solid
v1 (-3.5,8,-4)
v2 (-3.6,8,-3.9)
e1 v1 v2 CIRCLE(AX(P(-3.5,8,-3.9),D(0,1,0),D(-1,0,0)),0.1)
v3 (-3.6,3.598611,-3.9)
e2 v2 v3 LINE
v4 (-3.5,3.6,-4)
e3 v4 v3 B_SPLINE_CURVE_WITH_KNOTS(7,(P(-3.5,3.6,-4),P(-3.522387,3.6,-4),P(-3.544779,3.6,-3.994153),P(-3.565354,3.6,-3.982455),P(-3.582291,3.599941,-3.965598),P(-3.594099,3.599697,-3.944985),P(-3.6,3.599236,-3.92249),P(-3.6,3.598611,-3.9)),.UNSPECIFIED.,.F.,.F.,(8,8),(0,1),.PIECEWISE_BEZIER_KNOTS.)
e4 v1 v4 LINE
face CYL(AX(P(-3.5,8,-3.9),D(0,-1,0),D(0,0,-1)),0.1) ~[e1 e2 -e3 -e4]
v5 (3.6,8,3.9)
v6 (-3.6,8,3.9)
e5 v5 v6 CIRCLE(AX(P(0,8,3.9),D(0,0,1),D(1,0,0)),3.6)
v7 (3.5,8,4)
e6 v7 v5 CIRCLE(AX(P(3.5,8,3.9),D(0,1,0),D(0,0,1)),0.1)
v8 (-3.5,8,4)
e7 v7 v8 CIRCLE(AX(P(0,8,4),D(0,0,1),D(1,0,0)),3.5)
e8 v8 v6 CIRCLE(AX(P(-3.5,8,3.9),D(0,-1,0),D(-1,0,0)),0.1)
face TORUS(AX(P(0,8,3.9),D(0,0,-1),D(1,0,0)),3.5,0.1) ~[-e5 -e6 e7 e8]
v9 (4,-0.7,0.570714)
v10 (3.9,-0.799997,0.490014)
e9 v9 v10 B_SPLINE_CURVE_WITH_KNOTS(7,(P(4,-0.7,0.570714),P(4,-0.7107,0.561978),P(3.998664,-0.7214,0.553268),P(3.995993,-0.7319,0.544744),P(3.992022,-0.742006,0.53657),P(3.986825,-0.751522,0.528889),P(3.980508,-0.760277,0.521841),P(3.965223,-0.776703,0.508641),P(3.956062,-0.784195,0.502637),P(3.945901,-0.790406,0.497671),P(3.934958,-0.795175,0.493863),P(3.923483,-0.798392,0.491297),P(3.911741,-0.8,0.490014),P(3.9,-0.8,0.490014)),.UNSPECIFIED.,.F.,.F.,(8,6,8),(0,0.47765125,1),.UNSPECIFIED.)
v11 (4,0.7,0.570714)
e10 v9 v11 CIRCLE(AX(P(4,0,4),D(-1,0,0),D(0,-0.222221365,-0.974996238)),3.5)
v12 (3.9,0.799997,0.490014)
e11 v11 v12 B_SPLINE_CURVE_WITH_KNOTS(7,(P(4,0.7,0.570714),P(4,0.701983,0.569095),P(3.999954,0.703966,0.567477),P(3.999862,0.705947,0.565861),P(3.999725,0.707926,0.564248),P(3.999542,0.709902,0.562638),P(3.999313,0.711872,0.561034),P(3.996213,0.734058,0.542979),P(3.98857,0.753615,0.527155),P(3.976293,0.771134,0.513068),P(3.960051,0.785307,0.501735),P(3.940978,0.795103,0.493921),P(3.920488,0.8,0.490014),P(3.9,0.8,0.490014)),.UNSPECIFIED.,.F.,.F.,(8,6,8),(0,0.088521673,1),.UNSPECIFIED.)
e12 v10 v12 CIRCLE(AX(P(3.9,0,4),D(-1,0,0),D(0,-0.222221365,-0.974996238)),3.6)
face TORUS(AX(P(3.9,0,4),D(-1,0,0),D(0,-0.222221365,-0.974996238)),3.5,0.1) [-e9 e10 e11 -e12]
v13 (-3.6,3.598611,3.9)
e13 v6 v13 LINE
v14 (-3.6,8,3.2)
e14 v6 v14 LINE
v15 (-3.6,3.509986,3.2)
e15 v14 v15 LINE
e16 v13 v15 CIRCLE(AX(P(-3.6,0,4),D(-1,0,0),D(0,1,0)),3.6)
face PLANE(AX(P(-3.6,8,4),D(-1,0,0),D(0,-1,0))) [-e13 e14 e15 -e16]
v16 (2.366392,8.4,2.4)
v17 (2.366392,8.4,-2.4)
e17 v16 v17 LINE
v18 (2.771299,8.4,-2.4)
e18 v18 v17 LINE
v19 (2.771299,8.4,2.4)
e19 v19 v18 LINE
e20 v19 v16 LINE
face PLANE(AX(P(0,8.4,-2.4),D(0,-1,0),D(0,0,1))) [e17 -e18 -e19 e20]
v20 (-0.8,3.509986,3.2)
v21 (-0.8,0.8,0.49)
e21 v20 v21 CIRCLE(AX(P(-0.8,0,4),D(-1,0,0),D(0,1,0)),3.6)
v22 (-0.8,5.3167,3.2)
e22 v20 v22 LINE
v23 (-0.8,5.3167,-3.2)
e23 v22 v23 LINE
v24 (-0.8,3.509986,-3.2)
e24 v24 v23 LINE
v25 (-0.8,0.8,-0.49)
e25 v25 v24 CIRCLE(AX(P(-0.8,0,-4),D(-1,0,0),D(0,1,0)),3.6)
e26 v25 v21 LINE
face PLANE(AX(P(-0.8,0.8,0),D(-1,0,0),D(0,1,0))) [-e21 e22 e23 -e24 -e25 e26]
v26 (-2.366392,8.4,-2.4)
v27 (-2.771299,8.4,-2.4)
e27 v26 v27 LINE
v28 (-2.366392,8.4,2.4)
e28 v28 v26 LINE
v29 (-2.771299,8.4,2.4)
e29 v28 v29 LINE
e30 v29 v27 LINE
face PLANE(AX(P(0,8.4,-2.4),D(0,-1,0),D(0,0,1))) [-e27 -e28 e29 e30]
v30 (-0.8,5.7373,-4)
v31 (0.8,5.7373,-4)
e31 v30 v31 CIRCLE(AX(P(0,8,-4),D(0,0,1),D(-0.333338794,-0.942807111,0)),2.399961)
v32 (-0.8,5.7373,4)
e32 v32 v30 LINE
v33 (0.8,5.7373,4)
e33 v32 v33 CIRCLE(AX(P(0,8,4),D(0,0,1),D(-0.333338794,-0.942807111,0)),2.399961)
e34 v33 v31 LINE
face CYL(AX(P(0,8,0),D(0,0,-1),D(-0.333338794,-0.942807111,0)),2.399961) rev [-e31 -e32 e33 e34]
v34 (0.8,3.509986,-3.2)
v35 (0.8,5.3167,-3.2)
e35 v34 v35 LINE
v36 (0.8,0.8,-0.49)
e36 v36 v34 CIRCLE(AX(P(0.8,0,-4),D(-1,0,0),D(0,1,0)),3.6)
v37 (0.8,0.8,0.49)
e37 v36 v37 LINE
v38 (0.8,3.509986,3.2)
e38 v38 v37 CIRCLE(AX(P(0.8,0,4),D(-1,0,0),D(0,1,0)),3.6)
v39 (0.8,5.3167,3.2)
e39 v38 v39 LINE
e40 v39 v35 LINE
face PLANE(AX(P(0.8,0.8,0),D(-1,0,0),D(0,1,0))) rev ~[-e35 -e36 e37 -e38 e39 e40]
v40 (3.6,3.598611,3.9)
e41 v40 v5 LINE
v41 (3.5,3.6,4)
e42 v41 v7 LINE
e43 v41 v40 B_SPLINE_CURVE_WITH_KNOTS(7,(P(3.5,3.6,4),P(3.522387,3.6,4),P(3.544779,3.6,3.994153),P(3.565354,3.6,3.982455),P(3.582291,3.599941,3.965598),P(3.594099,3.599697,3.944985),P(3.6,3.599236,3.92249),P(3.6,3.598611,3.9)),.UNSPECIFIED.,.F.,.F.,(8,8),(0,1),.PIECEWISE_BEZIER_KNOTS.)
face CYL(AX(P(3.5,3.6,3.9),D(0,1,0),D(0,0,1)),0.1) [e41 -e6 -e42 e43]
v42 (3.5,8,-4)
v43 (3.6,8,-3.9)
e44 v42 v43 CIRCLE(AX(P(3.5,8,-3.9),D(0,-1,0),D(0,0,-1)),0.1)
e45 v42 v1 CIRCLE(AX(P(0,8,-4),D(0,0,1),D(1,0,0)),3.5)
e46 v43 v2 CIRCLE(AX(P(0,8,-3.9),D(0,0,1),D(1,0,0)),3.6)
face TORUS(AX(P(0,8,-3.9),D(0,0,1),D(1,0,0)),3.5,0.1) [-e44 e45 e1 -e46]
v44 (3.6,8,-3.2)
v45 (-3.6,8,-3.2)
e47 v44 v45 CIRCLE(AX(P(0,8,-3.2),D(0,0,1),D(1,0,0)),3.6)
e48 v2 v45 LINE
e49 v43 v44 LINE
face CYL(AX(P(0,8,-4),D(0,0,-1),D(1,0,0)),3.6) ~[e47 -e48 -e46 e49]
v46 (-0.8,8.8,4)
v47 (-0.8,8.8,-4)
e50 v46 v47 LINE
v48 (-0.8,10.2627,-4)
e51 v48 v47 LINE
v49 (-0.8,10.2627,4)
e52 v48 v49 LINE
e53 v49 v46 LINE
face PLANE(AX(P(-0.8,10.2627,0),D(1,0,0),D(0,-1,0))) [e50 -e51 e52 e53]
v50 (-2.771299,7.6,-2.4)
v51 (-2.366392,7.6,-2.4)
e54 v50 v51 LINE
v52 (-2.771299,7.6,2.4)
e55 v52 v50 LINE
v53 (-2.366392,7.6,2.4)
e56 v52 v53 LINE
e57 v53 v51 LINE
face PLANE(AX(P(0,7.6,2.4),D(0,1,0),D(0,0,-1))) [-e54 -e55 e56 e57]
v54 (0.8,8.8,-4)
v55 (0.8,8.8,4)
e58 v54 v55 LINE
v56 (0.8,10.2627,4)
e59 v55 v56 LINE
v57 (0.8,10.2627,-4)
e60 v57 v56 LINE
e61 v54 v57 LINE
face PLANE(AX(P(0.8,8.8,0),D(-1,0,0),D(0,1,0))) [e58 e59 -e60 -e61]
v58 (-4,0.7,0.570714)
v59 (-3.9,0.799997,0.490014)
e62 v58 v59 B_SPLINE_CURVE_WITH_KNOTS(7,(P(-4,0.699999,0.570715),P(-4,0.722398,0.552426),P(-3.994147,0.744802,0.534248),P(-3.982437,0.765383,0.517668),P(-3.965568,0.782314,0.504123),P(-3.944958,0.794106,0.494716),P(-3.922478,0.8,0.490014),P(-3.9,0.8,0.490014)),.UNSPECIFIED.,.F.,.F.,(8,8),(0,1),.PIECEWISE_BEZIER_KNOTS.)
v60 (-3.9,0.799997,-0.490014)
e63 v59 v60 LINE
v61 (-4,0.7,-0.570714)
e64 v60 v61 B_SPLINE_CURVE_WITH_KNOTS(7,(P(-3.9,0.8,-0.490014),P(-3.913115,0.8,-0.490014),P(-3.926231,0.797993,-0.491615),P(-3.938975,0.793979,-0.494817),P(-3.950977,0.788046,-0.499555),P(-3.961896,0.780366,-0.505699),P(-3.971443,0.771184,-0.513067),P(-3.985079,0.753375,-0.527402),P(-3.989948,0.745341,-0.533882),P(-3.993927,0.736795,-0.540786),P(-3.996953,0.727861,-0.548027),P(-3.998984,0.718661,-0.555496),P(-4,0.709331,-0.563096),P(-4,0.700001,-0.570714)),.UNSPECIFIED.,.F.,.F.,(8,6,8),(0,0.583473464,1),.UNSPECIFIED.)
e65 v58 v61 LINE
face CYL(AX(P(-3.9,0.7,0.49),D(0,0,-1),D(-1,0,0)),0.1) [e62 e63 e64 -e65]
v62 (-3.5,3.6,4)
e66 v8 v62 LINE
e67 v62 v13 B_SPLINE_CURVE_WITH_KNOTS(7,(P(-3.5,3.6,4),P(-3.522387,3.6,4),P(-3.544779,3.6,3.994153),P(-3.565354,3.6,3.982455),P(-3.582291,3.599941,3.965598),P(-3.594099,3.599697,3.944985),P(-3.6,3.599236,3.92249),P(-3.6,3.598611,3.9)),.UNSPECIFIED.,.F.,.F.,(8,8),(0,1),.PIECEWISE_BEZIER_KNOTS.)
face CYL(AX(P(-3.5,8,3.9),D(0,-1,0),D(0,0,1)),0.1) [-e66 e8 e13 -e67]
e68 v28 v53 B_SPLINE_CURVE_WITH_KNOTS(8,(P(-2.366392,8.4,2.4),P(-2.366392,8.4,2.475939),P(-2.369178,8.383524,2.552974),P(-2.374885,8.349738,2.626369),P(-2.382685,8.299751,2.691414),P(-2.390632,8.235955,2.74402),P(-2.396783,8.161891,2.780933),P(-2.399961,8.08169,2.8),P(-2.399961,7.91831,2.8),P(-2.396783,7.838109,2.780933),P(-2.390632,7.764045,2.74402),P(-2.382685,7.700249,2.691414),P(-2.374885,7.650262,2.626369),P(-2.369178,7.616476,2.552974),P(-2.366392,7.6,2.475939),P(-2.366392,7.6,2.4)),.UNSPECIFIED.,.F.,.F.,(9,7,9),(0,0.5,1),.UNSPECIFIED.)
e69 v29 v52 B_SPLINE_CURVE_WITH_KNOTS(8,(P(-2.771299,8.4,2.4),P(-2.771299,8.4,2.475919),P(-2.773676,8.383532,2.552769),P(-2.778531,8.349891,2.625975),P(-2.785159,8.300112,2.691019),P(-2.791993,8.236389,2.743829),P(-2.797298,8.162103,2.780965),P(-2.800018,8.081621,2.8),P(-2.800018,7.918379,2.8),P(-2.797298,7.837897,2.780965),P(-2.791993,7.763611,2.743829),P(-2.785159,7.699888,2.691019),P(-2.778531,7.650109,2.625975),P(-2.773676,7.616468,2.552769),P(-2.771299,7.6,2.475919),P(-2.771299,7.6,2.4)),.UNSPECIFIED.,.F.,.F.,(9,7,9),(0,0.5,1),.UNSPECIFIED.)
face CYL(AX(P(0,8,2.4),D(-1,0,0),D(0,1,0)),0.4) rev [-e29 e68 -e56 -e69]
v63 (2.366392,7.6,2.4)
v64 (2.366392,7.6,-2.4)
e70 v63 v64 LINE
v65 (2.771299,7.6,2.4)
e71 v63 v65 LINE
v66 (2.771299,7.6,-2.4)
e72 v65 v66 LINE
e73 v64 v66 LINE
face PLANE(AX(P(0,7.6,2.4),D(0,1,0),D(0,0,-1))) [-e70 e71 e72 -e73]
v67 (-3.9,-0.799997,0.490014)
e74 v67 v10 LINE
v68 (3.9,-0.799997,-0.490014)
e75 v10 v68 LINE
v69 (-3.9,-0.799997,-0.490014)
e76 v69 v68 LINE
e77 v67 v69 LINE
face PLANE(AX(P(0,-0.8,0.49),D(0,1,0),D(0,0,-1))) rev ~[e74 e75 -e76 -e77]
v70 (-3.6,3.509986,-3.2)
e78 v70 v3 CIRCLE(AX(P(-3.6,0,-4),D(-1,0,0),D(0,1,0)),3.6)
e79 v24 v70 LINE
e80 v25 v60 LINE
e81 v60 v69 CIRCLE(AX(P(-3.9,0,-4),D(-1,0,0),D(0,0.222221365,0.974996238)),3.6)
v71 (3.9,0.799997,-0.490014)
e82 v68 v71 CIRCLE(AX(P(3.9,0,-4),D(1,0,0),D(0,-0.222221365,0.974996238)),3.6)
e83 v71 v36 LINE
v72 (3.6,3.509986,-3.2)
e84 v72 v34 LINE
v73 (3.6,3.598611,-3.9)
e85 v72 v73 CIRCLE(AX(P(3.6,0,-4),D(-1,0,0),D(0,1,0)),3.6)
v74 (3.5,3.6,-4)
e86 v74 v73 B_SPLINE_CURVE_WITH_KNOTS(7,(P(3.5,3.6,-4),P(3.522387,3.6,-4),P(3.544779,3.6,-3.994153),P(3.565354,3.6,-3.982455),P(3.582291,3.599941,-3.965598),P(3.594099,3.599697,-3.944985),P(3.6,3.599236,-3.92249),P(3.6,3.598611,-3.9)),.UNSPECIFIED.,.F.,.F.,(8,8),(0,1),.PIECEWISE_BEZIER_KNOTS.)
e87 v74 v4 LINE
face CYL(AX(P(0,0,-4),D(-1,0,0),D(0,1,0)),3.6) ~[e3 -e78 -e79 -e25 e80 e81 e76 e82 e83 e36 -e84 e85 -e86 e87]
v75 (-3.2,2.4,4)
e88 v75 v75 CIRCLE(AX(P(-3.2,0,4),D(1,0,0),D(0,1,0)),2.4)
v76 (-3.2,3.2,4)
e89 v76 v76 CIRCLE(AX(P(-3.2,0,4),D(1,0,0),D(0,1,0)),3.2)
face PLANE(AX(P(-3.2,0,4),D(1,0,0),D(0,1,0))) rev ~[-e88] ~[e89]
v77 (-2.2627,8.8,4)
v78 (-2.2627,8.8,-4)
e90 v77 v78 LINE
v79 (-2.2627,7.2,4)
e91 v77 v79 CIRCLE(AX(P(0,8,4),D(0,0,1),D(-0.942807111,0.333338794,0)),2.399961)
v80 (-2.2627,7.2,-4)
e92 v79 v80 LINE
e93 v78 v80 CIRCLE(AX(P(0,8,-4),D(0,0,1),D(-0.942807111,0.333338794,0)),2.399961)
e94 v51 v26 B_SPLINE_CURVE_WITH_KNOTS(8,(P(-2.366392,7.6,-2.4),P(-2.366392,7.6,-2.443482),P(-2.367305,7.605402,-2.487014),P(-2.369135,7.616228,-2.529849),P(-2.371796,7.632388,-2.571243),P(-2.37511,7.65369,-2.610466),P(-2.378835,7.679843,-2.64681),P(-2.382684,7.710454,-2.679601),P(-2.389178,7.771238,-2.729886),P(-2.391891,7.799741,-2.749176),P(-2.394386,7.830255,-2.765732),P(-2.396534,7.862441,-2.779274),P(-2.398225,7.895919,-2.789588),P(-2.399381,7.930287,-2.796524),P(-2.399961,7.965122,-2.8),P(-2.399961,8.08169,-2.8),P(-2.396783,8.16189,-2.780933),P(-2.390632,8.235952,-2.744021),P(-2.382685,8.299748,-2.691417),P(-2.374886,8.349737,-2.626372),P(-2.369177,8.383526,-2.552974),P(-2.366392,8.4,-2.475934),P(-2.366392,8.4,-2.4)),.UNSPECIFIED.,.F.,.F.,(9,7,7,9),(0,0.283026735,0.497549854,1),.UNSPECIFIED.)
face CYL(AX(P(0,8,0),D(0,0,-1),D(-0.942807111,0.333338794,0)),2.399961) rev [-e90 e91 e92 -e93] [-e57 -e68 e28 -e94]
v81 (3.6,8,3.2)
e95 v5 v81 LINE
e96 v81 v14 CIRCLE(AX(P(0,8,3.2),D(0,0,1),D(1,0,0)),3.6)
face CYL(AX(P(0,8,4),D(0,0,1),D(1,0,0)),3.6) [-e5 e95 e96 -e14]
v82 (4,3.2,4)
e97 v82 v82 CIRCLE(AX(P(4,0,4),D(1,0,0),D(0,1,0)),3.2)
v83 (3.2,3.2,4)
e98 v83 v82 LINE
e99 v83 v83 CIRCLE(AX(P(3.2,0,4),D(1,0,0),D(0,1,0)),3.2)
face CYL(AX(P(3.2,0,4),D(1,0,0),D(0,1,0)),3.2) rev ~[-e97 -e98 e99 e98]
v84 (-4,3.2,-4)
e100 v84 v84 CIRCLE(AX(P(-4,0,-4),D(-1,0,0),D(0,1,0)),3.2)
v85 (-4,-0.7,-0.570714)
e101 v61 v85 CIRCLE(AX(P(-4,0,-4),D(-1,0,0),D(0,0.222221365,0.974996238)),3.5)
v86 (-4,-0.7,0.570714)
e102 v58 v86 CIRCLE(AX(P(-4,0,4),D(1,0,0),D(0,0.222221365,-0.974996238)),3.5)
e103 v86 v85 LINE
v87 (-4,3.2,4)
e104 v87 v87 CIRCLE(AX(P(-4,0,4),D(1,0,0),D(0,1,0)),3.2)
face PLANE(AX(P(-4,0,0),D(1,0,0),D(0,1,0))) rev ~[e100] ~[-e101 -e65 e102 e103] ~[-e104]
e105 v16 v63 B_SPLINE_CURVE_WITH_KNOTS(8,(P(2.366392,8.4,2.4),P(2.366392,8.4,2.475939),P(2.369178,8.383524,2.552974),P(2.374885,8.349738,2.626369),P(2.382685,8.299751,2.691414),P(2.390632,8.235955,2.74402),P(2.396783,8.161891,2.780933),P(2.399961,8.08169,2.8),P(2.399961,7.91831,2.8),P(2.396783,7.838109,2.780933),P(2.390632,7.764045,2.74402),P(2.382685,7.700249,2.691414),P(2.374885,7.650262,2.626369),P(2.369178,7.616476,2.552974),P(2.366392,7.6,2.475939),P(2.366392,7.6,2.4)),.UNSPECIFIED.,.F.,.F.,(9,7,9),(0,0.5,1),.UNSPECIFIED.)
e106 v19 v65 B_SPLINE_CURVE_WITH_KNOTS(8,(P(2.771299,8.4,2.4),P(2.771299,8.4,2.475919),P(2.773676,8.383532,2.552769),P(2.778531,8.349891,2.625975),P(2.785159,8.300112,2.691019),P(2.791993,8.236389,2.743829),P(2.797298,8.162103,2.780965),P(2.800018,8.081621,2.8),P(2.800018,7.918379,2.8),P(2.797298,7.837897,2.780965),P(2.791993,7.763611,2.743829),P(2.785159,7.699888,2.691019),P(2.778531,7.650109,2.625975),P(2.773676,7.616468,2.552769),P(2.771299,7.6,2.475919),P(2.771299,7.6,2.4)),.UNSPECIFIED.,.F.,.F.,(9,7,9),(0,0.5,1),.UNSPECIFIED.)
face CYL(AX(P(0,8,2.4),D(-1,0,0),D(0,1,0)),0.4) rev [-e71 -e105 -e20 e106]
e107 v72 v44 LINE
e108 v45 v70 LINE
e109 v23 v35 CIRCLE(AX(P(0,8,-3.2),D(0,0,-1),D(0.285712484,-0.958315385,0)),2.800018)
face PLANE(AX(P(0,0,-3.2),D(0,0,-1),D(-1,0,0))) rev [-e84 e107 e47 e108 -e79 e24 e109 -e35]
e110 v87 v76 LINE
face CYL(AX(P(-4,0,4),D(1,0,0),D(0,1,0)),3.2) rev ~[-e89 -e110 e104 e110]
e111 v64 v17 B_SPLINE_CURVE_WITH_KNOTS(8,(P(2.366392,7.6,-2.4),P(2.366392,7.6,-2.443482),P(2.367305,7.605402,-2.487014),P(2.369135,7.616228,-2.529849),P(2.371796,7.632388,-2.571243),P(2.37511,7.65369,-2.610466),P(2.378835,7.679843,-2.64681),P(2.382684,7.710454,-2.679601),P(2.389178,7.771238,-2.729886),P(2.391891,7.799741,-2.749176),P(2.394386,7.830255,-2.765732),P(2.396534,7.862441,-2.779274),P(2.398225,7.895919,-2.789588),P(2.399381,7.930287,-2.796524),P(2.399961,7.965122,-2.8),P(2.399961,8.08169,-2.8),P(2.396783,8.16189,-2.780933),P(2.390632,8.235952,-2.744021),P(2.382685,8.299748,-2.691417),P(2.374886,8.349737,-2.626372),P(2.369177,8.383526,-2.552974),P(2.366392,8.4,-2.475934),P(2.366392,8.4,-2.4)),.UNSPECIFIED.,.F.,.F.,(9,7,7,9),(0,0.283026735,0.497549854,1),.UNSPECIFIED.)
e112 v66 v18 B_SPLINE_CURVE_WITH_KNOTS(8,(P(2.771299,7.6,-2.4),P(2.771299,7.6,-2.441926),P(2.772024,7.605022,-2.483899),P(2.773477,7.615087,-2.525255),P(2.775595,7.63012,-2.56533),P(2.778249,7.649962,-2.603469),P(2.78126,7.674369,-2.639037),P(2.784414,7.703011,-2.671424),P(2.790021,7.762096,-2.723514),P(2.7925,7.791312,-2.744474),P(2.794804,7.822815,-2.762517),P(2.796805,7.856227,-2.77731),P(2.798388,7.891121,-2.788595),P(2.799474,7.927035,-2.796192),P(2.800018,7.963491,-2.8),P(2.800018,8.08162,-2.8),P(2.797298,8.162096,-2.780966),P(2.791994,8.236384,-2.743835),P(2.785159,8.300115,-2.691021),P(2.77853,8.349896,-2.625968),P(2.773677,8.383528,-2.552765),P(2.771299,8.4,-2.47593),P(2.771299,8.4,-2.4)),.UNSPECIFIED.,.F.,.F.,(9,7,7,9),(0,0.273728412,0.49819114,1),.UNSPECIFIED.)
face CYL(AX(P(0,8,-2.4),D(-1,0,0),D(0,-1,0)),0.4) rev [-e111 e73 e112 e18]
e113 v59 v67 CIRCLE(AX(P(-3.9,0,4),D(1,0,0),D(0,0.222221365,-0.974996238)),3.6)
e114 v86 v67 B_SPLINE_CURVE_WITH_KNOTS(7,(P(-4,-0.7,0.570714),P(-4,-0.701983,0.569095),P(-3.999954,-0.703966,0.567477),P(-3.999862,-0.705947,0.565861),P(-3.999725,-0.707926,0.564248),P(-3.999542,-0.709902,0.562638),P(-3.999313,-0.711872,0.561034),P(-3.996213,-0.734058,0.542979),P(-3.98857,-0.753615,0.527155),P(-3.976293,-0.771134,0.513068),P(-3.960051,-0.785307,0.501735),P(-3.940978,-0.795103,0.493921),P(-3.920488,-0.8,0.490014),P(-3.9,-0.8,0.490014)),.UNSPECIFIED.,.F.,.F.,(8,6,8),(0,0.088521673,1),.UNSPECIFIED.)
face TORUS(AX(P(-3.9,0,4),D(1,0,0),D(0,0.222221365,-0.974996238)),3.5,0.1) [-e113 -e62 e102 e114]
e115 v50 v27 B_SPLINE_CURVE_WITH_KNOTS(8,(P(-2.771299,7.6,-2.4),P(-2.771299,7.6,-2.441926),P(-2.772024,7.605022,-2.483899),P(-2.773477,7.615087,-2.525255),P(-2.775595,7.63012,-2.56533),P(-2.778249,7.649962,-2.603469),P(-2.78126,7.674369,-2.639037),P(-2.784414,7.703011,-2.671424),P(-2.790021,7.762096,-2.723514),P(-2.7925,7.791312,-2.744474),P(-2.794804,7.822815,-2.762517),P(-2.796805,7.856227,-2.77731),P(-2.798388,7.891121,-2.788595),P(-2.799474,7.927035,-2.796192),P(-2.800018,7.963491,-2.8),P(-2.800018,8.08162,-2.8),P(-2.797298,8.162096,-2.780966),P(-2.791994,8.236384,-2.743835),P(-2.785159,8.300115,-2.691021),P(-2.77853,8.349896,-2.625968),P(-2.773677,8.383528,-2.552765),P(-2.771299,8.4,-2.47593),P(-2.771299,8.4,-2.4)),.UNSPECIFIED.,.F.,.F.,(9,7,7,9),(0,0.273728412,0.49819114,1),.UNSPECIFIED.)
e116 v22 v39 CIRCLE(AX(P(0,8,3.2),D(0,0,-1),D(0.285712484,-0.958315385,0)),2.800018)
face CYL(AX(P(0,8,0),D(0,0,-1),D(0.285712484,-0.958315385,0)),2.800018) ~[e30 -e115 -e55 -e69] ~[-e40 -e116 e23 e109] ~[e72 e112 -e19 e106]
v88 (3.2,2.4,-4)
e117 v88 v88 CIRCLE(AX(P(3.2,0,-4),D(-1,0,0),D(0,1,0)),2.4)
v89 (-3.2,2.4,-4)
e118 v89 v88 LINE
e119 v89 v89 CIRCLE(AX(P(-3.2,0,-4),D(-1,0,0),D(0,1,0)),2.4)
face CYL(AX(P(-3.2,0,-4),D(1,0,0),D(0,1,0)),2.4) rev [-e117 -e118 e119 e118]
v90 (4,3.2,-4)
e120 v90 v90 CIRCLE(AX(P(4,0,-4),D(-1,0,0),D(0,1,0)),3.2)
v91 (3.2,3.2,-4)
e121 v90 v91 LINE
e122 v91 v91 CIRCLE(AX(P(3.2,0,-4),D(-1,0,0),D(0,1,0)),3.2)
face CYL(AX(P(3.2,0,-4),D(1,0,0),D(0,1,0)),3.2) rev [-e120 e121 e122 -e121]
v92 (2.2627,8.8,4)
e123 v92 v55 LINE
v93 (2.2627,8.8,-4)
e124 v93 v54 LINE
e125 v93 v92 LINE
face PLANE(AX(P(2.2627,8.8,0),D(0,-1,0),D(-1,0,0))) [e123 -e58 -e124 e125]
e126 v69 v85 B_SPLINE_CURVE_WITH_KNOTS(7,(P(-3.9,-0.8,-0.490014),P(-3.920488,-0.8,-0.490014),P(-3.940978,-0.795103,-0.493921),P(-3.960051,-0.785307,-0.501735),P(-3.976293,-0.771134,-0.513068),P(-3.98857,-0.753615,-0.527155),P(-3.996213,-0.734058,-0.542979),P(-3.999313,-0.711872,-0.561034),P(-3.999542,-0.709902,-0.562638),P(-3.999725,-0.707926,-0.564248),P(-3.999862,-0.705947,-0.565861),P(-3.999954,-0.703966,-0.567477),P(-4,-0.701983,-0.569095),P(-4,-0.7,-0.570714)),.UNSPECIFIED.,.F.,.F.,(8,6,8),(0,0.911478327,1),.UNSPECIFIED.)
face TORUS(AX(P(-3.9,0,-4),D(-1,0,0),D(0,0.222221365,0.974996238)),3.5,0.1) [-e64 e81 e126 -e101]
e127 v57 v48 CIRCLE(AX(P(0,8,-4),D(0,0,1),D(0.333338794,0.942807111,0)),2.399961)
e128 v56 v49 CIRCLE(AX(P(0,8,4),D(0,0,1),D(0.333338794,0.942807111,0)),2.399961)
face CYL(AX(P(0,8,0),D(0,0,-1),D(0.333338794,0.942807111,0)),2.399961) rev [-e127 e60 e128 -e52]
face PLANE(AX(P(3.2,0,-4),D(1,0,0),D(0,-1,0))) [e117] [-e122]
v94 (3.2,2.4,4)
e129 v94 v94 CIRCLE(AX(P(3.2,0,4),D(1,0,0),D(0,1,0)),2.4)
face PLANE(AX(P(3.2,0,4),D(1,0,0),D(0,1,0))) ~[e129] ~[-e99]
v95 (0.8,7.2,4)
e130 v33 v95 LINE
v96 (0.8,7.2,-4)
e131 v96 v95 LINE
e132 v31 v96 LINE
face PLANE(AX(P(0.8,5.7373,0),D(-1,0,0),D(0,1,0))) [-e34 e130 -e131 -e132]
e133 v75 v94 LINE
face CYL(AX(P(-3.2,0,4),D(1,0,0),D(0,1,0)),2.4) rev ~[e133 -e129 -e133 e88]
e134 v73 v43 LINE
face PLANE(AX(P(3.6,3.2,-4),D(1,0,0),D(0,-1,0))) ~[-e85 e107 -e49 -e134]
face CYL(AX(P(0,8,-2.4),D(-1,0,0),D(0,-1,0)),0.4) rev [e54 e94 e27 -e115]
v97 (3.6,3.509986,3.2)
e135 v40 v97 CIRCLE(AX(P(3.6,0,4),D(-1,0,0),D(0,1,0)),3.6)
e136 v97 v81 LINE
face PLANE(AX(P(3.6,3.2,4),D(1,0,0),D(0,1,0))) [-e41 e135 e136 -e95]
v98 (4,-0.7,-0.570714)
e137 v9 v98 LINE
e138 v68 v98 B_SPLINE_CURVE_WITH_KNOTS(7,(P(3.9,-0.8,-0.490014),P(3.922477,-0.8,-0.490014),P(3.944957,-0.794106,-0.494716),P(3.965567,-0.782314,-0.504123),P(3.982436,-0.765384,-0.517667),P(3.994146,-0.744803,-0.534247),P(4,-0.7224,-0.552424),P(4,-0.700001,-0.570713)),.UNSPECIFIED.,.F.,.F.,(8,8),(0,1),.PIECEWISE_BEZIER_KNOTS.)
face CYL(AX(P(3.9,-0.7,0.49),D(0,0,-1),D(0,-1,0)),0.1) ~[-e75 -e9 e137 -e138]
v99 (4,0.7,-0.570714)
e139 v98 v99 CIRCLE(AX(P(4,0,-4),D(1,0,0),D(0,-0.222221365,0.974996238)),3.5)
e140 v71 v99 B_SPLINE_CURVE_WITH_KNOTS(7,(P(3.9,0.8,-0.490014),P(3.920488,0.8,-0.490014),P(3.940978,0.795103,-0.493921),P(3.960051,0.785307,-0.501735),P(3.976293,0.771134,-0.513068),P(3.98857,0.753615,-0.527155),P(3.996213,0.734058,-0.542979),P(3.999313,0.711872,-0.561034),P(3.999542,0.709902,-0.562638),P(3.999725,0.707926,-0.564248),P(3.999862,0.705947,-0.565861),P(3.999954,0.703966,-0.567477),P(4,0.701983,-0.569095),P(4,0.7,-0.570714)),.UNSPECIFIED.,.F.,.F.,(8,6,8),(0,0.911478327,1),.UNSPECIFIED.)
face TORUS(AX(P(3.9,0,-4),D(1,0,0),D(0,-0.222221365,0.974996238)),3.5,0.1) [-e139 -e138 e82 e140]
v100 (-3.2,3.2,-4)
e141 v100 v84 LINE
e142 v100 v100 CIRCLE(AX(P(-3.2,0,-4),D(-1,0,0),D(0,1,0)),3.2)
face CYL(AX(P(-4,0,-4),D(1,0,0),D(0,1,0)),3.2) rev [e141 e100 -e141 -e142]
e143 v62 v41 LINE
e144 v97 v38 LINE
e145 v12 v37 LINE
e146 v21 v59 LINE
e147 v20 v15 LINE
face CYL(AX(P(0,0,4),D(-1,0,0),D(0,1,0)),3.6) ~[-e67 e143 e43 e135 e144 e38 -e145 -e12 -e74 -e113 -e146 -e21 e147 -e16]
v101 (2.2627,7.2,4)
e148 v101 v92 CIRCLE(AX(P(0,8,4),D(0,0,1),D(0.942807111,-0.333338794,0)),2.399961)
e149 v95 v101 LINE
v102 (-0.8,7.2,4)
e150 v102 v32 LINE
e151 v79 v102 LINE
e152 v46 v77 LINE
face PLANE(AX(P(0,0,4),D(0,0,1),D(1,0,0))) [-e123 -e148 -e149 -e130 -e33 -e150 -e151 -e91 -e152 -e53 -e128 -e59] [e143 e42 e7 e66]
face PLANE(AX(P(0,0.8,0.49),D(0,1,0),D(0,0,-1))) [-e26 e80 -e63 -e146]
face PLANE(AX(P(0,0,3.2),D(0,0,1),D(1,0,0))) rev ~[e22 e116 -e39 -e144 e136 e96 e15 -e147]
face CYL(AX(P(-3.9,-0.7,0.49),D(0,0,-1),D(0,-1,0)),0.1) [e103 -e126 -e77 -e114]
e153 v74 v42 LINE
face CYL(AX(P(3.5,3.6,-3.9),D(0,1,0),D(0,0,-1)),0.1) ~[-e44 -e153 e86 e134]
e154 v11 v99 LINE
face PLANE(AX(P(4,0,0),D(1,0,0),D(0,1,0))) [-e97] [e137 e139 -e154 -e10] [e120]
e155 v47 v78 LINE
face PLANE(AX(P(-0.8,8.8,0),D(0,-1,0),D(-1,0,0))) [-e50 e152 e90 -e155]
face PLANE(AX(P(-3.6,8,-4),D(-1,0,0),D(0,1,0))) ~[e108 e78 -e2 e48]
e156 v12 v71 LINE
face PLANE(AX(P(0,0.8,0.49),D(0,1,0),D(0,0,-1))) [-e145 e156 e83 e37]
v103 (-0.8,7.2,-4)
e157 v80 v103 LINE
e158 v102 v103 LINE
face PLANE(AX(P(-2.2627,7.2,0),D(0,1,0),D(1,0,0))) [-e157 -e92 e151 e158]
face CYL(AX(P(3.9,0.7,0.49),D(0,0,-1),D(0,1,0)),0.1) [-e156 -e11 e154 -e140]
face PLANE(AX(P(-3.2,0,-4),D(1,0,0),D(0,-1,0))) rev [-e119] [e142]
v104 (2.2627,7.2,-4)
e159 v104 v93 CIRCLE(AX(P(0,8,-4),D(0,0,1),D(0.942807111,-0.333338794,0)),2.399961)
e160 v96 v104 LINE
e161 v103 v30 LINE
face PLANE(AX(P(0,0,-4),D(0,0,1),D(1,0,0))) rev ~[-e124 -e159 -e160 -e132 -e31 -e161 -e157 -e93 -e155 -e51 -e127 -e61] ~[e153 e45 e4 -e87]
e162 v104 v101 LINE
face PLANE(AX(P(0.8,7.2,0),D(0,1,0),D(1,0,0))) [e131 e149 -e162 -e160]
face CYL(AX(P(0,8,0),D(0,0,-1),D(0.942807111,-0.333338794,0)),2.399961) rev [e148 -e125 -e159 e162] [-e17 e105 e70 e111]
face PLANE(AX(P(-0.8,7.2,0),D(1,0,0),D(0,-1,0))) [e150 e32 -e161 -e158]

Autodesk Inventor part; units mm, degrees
ref_plane "YZ Plane" through (0, 0, 0) normal (1, 0, 0) x (0, 1, 0)
ref_plane "XZ Plane" through (0, 0, 0) normal (0, 1, 0) x (-1, 0, 0)
sketch "Sketch2" plane through (0, 0, 0) normal (1, 0, 0) x (0, 1, 0)
  circle A0 centre (0, 4) radius 3.6
  circle A1 centre (0, -4) radius 3.6
  line L0 (0, 4) -> (0, -4) construction
  line L1 (0.8, 0.49) -> (0.8, -0.49)
  line L2 (-0.8, 0.49) -> (-0.8, -0.49)
  point P0 (0, 0)
  point P1 (0, 0)
  dimension "d0" = 7.2
  dimension "d1" = 1.6
  dimension "d2" = 8
extrude "Extrusion1" add sketch "Sketch2" along normal mid plane 8
ref_plane "Work Plane2" through (0, 0, 4) normal (0, 0, 1) x (1, 0, 0)
sketch "Sketch4" plane through (0, 0, 0) normal (0, 0, 1) x (1, 0, 0)
  line L0 (-4, 0.8) -> (4, 0.8) projected
  line L1 (-0.8, 0.8) -> (-0.8, 5.3167)
  line L2 (0.8, 0.8) -> (0.8, 5.3167)
  arc A0 (0.8, 5.3167) -> (-0.8, 5.3167) centre (0, 8) ccw
  circle A1 centre (0, 8) radius 2.4 construction
  line L3 (-0.8, 10.2627) -> (-0.8, 8.8)
  line L4 (-0.8, 8.8) -> (-2.2627, 8.8)
  line L5 (-2.2627, 7.2) -> (-0.8, 7.2)
  line L6 (-0.8, 7.2) -> (-0.8, 5.7373)
  line L7 (0.8, 5.7373) -> (0.8, 7.2)
  line L8 (0.8, 7.2) -> (2.2627, 7.2)
  line L9 (2.2627, 8.8) -> (0.8, 8.8)
  line L10 (0.8, 8.8) -> (0.8, 10.2627)
  arc A2 (0.8, 10.2627) -> (-0.8, 10.2627) centre (0, 8) ccw
  arc A3 (-2.2627, 8.8) -> (-2.2627, 7.2) centre (0, 8) ccw
  arc A4 (-0.8, 5.7373) -> (0.8, 5.7373) centre (0, 8) ccw
  arc A5 (2.2627, 7.2) -> (2.2627, 8.8) centre (0, 8) ccw
  point P0 (0, 0)
  dimension "d18" = 4.8
  dimension "d12" = 5.6
  dimension "d14" = 1.6
  dimension "d20" = 1.6
  dimension "d40" = 8
extrude "Extrusion2" add sketch "Sketch4" along normal mid plane 8
sketch "Sketch5" plane through (0, 0, 0) normal (1, 0, 0) x (0, 1, 0)
  line L0 (7.2, 4) -> (8.8, 4) projected
  line L1 (8.8, -4) -> (8.8, 4) projected
  line L2 (7.6, 2.4) -> (7.6, -2.4)
  arc A0 (7.6, -2.4) -> (8.4, -2.4) centre (8, -2.4) ccw
  line L3 (8.4, -2.4) -> (8.4, 2.4)
  arc A1 (8.4, 2.4) -> (7.6, 2.4) centre (8, 2.4) ccw
  point P0 (0, 0)
  point P1 (8, 4)
  point P2 (8.4, 0)
  point P3 (8.8, 0)
  dimension "d23" = 0.8
  dimension "d24" = 5.6
extrude "Extrusion3" cut sketch "Sketch5" along normal through all both and the other way through all
sketch "Sketch6" plane through (0, 0, 4) normal (0, 0, 1) x (1, 0, 0)
  arc A0 (0.8, 5.3167) -> (-0.8, 5.3167) centre (0, 8) ccw projected
  arc A1 (-2.2627, 8.8) -> (-2.2627, 7.2) centre (0, 8) ccw projected
  line L0 (-0.8, 3.6) -> (0.8, 3.6) projected
  line L1 (3.6, 3.2) -> (3.6, 8)
  arc A2 (3.6, 8) -> (-3.6, 8) centre (0, 8) ccw
  line L2 (-3.6, 8) -> (-3.6, 3.2)
  line L3 (-3.6, 3.2) -> (3.6, 3.2)
  arc A3 (-2.2627, 8.8) -> (-2.2627, 7.2) centre (0, 8) ccw projected
  line L4 (-0.8, 8.8) -> (-2.2627, 8.8) projected
  line L5 (-0.8, 10.2627) -> (-0.8, 8.8) projected
  arc A4 (0.8, 10.2627) -> (-0.8, 10.2627) centre (0, 8) ccw projected
  line L6 (0.8, 8.8) -> (0.8, 10.2627) projected
  line L7 (2.2627, 8.8) -> (0.8, 8.8) projected
  arc A5 (2.2627, 7.2) -> (2.2627, 8.8) centre (0, 8) ccw projected
  line L8 (0.8, 7.2) -> (2.2627, 7.2) projected
  line L9 (0.8, 5.7373) -> (0.8, 7.2) projected
  arc A6 (-0.8, 5.7373) -> (0.8, 5.7373) centre (0, 8) ccw projected
  line L10 (-0.8, 7.2) -> (-0.8, 5.7373) projected
  line L11 (-2.2627, 7.2) -> (-0.8, 7.2) projected
  point P0 (0, 0)
  dimension "d41" = 7.2
  dimension "d42" = 6.4
extrude "Extrusion4" add sketch "Sketch6" against normal blind 0.8
sketch "Sketch3" plane through (0, 0, 4) normal (0, 0, 1) x (1, 0, 0)
  line L0 (-5.6, 0) -> (5.6, 0) projected
  line L1 (-4, 3.2) -> (-3.2, 3.2)
  line L2 (-3.2, 3.2) -> (-3.2, 2.4)
  line L3 (-3.2, 2.4) -> (3.2, 2.4)
  line L4 (3.2, 2.4) -> (3.2, 3.2)
  line L5 (3.2, 3.2) -> (4, 3.2)
  line L6 (4, 3.2) -> (4, 0)
  line L7 (-4, 0) -> (-4, 3.2)
  line L8 (-4, 0) -> (4, 0)
  line L9 (-4, 3.6) -> (-4, -3.6) projected
  line L10 (4, -3.6) -> (4, 3.6) projected
  point P0 (0, 0)
  point P1 (-4, -0.8)
  point P2 (-4, 0.8)
  point P3 (4, 0.8)
  point P4 (4, -0.8)
  dimension "d7" = 4.8
  dimension "d8" = 6.4
  dimension "d9" = 0.8
revolve "Revolution1" cut sketch "Sketch3" angle 360 about axis through (-4, 0, 4) along (1, 0, 0)
mirror "Mirror1" about plane through (0, 0, 0) normal (0, 0, 1) of "Revolution1", "Extrusion4"
fillet "Fillet1" radius 0.1 14 edges at (4, 0, -7.6) (4, 0, 7.6) (-4, 0, 7.6) (4, 0.8, 0) (4, -0.8, 0) (-4, 0, -7.6) (-4, 0.8, 0) (-4, -0.8, 0) (-3.6, 5.8, 4) (3.6, 5.8, 4) (0, 11.6, 4) (-3.6, 5.8, -4) (3.6, 5.8, -4) (0, 11.6, -4)
equation "\"d0\" = tlad"
equation "\"d2\" = lu"
equation "\"d3\" = lu"
equation "\"d18\" = kd"
equation "\"d14\" = wall"
equation "\"d20\" = axlet"
equation "\"d40\" = lu"
equation "\"d21\" = lu"
equation "\"d23\" = tpnw"
equation "\"d41\" = tlad"
equation "\"d42\" = tsd"
equation "\"d29\" = tsl"
equation "\"d7\" = kd"
equation "\"d8\" = tsd"
equation "\"d9\" = tsl"
equation "\"d39\" = lf"
equation "\"tlad\" = 7.2"
equation "\"lu\" = 8"
equation "\"kd\" = 4.8"
equation "\"wall\" = 1.6"
equation "\"axlet\" = 1.6"
equation "\"tpnw\" = 0.8"
equation "\"tsl\" = 0.8"
equation "\"tsd\" = 6.4"
equation "\"lf\" = 0.1"
properties part number "32291-DkBluishGray" material "ABS Plastic"
